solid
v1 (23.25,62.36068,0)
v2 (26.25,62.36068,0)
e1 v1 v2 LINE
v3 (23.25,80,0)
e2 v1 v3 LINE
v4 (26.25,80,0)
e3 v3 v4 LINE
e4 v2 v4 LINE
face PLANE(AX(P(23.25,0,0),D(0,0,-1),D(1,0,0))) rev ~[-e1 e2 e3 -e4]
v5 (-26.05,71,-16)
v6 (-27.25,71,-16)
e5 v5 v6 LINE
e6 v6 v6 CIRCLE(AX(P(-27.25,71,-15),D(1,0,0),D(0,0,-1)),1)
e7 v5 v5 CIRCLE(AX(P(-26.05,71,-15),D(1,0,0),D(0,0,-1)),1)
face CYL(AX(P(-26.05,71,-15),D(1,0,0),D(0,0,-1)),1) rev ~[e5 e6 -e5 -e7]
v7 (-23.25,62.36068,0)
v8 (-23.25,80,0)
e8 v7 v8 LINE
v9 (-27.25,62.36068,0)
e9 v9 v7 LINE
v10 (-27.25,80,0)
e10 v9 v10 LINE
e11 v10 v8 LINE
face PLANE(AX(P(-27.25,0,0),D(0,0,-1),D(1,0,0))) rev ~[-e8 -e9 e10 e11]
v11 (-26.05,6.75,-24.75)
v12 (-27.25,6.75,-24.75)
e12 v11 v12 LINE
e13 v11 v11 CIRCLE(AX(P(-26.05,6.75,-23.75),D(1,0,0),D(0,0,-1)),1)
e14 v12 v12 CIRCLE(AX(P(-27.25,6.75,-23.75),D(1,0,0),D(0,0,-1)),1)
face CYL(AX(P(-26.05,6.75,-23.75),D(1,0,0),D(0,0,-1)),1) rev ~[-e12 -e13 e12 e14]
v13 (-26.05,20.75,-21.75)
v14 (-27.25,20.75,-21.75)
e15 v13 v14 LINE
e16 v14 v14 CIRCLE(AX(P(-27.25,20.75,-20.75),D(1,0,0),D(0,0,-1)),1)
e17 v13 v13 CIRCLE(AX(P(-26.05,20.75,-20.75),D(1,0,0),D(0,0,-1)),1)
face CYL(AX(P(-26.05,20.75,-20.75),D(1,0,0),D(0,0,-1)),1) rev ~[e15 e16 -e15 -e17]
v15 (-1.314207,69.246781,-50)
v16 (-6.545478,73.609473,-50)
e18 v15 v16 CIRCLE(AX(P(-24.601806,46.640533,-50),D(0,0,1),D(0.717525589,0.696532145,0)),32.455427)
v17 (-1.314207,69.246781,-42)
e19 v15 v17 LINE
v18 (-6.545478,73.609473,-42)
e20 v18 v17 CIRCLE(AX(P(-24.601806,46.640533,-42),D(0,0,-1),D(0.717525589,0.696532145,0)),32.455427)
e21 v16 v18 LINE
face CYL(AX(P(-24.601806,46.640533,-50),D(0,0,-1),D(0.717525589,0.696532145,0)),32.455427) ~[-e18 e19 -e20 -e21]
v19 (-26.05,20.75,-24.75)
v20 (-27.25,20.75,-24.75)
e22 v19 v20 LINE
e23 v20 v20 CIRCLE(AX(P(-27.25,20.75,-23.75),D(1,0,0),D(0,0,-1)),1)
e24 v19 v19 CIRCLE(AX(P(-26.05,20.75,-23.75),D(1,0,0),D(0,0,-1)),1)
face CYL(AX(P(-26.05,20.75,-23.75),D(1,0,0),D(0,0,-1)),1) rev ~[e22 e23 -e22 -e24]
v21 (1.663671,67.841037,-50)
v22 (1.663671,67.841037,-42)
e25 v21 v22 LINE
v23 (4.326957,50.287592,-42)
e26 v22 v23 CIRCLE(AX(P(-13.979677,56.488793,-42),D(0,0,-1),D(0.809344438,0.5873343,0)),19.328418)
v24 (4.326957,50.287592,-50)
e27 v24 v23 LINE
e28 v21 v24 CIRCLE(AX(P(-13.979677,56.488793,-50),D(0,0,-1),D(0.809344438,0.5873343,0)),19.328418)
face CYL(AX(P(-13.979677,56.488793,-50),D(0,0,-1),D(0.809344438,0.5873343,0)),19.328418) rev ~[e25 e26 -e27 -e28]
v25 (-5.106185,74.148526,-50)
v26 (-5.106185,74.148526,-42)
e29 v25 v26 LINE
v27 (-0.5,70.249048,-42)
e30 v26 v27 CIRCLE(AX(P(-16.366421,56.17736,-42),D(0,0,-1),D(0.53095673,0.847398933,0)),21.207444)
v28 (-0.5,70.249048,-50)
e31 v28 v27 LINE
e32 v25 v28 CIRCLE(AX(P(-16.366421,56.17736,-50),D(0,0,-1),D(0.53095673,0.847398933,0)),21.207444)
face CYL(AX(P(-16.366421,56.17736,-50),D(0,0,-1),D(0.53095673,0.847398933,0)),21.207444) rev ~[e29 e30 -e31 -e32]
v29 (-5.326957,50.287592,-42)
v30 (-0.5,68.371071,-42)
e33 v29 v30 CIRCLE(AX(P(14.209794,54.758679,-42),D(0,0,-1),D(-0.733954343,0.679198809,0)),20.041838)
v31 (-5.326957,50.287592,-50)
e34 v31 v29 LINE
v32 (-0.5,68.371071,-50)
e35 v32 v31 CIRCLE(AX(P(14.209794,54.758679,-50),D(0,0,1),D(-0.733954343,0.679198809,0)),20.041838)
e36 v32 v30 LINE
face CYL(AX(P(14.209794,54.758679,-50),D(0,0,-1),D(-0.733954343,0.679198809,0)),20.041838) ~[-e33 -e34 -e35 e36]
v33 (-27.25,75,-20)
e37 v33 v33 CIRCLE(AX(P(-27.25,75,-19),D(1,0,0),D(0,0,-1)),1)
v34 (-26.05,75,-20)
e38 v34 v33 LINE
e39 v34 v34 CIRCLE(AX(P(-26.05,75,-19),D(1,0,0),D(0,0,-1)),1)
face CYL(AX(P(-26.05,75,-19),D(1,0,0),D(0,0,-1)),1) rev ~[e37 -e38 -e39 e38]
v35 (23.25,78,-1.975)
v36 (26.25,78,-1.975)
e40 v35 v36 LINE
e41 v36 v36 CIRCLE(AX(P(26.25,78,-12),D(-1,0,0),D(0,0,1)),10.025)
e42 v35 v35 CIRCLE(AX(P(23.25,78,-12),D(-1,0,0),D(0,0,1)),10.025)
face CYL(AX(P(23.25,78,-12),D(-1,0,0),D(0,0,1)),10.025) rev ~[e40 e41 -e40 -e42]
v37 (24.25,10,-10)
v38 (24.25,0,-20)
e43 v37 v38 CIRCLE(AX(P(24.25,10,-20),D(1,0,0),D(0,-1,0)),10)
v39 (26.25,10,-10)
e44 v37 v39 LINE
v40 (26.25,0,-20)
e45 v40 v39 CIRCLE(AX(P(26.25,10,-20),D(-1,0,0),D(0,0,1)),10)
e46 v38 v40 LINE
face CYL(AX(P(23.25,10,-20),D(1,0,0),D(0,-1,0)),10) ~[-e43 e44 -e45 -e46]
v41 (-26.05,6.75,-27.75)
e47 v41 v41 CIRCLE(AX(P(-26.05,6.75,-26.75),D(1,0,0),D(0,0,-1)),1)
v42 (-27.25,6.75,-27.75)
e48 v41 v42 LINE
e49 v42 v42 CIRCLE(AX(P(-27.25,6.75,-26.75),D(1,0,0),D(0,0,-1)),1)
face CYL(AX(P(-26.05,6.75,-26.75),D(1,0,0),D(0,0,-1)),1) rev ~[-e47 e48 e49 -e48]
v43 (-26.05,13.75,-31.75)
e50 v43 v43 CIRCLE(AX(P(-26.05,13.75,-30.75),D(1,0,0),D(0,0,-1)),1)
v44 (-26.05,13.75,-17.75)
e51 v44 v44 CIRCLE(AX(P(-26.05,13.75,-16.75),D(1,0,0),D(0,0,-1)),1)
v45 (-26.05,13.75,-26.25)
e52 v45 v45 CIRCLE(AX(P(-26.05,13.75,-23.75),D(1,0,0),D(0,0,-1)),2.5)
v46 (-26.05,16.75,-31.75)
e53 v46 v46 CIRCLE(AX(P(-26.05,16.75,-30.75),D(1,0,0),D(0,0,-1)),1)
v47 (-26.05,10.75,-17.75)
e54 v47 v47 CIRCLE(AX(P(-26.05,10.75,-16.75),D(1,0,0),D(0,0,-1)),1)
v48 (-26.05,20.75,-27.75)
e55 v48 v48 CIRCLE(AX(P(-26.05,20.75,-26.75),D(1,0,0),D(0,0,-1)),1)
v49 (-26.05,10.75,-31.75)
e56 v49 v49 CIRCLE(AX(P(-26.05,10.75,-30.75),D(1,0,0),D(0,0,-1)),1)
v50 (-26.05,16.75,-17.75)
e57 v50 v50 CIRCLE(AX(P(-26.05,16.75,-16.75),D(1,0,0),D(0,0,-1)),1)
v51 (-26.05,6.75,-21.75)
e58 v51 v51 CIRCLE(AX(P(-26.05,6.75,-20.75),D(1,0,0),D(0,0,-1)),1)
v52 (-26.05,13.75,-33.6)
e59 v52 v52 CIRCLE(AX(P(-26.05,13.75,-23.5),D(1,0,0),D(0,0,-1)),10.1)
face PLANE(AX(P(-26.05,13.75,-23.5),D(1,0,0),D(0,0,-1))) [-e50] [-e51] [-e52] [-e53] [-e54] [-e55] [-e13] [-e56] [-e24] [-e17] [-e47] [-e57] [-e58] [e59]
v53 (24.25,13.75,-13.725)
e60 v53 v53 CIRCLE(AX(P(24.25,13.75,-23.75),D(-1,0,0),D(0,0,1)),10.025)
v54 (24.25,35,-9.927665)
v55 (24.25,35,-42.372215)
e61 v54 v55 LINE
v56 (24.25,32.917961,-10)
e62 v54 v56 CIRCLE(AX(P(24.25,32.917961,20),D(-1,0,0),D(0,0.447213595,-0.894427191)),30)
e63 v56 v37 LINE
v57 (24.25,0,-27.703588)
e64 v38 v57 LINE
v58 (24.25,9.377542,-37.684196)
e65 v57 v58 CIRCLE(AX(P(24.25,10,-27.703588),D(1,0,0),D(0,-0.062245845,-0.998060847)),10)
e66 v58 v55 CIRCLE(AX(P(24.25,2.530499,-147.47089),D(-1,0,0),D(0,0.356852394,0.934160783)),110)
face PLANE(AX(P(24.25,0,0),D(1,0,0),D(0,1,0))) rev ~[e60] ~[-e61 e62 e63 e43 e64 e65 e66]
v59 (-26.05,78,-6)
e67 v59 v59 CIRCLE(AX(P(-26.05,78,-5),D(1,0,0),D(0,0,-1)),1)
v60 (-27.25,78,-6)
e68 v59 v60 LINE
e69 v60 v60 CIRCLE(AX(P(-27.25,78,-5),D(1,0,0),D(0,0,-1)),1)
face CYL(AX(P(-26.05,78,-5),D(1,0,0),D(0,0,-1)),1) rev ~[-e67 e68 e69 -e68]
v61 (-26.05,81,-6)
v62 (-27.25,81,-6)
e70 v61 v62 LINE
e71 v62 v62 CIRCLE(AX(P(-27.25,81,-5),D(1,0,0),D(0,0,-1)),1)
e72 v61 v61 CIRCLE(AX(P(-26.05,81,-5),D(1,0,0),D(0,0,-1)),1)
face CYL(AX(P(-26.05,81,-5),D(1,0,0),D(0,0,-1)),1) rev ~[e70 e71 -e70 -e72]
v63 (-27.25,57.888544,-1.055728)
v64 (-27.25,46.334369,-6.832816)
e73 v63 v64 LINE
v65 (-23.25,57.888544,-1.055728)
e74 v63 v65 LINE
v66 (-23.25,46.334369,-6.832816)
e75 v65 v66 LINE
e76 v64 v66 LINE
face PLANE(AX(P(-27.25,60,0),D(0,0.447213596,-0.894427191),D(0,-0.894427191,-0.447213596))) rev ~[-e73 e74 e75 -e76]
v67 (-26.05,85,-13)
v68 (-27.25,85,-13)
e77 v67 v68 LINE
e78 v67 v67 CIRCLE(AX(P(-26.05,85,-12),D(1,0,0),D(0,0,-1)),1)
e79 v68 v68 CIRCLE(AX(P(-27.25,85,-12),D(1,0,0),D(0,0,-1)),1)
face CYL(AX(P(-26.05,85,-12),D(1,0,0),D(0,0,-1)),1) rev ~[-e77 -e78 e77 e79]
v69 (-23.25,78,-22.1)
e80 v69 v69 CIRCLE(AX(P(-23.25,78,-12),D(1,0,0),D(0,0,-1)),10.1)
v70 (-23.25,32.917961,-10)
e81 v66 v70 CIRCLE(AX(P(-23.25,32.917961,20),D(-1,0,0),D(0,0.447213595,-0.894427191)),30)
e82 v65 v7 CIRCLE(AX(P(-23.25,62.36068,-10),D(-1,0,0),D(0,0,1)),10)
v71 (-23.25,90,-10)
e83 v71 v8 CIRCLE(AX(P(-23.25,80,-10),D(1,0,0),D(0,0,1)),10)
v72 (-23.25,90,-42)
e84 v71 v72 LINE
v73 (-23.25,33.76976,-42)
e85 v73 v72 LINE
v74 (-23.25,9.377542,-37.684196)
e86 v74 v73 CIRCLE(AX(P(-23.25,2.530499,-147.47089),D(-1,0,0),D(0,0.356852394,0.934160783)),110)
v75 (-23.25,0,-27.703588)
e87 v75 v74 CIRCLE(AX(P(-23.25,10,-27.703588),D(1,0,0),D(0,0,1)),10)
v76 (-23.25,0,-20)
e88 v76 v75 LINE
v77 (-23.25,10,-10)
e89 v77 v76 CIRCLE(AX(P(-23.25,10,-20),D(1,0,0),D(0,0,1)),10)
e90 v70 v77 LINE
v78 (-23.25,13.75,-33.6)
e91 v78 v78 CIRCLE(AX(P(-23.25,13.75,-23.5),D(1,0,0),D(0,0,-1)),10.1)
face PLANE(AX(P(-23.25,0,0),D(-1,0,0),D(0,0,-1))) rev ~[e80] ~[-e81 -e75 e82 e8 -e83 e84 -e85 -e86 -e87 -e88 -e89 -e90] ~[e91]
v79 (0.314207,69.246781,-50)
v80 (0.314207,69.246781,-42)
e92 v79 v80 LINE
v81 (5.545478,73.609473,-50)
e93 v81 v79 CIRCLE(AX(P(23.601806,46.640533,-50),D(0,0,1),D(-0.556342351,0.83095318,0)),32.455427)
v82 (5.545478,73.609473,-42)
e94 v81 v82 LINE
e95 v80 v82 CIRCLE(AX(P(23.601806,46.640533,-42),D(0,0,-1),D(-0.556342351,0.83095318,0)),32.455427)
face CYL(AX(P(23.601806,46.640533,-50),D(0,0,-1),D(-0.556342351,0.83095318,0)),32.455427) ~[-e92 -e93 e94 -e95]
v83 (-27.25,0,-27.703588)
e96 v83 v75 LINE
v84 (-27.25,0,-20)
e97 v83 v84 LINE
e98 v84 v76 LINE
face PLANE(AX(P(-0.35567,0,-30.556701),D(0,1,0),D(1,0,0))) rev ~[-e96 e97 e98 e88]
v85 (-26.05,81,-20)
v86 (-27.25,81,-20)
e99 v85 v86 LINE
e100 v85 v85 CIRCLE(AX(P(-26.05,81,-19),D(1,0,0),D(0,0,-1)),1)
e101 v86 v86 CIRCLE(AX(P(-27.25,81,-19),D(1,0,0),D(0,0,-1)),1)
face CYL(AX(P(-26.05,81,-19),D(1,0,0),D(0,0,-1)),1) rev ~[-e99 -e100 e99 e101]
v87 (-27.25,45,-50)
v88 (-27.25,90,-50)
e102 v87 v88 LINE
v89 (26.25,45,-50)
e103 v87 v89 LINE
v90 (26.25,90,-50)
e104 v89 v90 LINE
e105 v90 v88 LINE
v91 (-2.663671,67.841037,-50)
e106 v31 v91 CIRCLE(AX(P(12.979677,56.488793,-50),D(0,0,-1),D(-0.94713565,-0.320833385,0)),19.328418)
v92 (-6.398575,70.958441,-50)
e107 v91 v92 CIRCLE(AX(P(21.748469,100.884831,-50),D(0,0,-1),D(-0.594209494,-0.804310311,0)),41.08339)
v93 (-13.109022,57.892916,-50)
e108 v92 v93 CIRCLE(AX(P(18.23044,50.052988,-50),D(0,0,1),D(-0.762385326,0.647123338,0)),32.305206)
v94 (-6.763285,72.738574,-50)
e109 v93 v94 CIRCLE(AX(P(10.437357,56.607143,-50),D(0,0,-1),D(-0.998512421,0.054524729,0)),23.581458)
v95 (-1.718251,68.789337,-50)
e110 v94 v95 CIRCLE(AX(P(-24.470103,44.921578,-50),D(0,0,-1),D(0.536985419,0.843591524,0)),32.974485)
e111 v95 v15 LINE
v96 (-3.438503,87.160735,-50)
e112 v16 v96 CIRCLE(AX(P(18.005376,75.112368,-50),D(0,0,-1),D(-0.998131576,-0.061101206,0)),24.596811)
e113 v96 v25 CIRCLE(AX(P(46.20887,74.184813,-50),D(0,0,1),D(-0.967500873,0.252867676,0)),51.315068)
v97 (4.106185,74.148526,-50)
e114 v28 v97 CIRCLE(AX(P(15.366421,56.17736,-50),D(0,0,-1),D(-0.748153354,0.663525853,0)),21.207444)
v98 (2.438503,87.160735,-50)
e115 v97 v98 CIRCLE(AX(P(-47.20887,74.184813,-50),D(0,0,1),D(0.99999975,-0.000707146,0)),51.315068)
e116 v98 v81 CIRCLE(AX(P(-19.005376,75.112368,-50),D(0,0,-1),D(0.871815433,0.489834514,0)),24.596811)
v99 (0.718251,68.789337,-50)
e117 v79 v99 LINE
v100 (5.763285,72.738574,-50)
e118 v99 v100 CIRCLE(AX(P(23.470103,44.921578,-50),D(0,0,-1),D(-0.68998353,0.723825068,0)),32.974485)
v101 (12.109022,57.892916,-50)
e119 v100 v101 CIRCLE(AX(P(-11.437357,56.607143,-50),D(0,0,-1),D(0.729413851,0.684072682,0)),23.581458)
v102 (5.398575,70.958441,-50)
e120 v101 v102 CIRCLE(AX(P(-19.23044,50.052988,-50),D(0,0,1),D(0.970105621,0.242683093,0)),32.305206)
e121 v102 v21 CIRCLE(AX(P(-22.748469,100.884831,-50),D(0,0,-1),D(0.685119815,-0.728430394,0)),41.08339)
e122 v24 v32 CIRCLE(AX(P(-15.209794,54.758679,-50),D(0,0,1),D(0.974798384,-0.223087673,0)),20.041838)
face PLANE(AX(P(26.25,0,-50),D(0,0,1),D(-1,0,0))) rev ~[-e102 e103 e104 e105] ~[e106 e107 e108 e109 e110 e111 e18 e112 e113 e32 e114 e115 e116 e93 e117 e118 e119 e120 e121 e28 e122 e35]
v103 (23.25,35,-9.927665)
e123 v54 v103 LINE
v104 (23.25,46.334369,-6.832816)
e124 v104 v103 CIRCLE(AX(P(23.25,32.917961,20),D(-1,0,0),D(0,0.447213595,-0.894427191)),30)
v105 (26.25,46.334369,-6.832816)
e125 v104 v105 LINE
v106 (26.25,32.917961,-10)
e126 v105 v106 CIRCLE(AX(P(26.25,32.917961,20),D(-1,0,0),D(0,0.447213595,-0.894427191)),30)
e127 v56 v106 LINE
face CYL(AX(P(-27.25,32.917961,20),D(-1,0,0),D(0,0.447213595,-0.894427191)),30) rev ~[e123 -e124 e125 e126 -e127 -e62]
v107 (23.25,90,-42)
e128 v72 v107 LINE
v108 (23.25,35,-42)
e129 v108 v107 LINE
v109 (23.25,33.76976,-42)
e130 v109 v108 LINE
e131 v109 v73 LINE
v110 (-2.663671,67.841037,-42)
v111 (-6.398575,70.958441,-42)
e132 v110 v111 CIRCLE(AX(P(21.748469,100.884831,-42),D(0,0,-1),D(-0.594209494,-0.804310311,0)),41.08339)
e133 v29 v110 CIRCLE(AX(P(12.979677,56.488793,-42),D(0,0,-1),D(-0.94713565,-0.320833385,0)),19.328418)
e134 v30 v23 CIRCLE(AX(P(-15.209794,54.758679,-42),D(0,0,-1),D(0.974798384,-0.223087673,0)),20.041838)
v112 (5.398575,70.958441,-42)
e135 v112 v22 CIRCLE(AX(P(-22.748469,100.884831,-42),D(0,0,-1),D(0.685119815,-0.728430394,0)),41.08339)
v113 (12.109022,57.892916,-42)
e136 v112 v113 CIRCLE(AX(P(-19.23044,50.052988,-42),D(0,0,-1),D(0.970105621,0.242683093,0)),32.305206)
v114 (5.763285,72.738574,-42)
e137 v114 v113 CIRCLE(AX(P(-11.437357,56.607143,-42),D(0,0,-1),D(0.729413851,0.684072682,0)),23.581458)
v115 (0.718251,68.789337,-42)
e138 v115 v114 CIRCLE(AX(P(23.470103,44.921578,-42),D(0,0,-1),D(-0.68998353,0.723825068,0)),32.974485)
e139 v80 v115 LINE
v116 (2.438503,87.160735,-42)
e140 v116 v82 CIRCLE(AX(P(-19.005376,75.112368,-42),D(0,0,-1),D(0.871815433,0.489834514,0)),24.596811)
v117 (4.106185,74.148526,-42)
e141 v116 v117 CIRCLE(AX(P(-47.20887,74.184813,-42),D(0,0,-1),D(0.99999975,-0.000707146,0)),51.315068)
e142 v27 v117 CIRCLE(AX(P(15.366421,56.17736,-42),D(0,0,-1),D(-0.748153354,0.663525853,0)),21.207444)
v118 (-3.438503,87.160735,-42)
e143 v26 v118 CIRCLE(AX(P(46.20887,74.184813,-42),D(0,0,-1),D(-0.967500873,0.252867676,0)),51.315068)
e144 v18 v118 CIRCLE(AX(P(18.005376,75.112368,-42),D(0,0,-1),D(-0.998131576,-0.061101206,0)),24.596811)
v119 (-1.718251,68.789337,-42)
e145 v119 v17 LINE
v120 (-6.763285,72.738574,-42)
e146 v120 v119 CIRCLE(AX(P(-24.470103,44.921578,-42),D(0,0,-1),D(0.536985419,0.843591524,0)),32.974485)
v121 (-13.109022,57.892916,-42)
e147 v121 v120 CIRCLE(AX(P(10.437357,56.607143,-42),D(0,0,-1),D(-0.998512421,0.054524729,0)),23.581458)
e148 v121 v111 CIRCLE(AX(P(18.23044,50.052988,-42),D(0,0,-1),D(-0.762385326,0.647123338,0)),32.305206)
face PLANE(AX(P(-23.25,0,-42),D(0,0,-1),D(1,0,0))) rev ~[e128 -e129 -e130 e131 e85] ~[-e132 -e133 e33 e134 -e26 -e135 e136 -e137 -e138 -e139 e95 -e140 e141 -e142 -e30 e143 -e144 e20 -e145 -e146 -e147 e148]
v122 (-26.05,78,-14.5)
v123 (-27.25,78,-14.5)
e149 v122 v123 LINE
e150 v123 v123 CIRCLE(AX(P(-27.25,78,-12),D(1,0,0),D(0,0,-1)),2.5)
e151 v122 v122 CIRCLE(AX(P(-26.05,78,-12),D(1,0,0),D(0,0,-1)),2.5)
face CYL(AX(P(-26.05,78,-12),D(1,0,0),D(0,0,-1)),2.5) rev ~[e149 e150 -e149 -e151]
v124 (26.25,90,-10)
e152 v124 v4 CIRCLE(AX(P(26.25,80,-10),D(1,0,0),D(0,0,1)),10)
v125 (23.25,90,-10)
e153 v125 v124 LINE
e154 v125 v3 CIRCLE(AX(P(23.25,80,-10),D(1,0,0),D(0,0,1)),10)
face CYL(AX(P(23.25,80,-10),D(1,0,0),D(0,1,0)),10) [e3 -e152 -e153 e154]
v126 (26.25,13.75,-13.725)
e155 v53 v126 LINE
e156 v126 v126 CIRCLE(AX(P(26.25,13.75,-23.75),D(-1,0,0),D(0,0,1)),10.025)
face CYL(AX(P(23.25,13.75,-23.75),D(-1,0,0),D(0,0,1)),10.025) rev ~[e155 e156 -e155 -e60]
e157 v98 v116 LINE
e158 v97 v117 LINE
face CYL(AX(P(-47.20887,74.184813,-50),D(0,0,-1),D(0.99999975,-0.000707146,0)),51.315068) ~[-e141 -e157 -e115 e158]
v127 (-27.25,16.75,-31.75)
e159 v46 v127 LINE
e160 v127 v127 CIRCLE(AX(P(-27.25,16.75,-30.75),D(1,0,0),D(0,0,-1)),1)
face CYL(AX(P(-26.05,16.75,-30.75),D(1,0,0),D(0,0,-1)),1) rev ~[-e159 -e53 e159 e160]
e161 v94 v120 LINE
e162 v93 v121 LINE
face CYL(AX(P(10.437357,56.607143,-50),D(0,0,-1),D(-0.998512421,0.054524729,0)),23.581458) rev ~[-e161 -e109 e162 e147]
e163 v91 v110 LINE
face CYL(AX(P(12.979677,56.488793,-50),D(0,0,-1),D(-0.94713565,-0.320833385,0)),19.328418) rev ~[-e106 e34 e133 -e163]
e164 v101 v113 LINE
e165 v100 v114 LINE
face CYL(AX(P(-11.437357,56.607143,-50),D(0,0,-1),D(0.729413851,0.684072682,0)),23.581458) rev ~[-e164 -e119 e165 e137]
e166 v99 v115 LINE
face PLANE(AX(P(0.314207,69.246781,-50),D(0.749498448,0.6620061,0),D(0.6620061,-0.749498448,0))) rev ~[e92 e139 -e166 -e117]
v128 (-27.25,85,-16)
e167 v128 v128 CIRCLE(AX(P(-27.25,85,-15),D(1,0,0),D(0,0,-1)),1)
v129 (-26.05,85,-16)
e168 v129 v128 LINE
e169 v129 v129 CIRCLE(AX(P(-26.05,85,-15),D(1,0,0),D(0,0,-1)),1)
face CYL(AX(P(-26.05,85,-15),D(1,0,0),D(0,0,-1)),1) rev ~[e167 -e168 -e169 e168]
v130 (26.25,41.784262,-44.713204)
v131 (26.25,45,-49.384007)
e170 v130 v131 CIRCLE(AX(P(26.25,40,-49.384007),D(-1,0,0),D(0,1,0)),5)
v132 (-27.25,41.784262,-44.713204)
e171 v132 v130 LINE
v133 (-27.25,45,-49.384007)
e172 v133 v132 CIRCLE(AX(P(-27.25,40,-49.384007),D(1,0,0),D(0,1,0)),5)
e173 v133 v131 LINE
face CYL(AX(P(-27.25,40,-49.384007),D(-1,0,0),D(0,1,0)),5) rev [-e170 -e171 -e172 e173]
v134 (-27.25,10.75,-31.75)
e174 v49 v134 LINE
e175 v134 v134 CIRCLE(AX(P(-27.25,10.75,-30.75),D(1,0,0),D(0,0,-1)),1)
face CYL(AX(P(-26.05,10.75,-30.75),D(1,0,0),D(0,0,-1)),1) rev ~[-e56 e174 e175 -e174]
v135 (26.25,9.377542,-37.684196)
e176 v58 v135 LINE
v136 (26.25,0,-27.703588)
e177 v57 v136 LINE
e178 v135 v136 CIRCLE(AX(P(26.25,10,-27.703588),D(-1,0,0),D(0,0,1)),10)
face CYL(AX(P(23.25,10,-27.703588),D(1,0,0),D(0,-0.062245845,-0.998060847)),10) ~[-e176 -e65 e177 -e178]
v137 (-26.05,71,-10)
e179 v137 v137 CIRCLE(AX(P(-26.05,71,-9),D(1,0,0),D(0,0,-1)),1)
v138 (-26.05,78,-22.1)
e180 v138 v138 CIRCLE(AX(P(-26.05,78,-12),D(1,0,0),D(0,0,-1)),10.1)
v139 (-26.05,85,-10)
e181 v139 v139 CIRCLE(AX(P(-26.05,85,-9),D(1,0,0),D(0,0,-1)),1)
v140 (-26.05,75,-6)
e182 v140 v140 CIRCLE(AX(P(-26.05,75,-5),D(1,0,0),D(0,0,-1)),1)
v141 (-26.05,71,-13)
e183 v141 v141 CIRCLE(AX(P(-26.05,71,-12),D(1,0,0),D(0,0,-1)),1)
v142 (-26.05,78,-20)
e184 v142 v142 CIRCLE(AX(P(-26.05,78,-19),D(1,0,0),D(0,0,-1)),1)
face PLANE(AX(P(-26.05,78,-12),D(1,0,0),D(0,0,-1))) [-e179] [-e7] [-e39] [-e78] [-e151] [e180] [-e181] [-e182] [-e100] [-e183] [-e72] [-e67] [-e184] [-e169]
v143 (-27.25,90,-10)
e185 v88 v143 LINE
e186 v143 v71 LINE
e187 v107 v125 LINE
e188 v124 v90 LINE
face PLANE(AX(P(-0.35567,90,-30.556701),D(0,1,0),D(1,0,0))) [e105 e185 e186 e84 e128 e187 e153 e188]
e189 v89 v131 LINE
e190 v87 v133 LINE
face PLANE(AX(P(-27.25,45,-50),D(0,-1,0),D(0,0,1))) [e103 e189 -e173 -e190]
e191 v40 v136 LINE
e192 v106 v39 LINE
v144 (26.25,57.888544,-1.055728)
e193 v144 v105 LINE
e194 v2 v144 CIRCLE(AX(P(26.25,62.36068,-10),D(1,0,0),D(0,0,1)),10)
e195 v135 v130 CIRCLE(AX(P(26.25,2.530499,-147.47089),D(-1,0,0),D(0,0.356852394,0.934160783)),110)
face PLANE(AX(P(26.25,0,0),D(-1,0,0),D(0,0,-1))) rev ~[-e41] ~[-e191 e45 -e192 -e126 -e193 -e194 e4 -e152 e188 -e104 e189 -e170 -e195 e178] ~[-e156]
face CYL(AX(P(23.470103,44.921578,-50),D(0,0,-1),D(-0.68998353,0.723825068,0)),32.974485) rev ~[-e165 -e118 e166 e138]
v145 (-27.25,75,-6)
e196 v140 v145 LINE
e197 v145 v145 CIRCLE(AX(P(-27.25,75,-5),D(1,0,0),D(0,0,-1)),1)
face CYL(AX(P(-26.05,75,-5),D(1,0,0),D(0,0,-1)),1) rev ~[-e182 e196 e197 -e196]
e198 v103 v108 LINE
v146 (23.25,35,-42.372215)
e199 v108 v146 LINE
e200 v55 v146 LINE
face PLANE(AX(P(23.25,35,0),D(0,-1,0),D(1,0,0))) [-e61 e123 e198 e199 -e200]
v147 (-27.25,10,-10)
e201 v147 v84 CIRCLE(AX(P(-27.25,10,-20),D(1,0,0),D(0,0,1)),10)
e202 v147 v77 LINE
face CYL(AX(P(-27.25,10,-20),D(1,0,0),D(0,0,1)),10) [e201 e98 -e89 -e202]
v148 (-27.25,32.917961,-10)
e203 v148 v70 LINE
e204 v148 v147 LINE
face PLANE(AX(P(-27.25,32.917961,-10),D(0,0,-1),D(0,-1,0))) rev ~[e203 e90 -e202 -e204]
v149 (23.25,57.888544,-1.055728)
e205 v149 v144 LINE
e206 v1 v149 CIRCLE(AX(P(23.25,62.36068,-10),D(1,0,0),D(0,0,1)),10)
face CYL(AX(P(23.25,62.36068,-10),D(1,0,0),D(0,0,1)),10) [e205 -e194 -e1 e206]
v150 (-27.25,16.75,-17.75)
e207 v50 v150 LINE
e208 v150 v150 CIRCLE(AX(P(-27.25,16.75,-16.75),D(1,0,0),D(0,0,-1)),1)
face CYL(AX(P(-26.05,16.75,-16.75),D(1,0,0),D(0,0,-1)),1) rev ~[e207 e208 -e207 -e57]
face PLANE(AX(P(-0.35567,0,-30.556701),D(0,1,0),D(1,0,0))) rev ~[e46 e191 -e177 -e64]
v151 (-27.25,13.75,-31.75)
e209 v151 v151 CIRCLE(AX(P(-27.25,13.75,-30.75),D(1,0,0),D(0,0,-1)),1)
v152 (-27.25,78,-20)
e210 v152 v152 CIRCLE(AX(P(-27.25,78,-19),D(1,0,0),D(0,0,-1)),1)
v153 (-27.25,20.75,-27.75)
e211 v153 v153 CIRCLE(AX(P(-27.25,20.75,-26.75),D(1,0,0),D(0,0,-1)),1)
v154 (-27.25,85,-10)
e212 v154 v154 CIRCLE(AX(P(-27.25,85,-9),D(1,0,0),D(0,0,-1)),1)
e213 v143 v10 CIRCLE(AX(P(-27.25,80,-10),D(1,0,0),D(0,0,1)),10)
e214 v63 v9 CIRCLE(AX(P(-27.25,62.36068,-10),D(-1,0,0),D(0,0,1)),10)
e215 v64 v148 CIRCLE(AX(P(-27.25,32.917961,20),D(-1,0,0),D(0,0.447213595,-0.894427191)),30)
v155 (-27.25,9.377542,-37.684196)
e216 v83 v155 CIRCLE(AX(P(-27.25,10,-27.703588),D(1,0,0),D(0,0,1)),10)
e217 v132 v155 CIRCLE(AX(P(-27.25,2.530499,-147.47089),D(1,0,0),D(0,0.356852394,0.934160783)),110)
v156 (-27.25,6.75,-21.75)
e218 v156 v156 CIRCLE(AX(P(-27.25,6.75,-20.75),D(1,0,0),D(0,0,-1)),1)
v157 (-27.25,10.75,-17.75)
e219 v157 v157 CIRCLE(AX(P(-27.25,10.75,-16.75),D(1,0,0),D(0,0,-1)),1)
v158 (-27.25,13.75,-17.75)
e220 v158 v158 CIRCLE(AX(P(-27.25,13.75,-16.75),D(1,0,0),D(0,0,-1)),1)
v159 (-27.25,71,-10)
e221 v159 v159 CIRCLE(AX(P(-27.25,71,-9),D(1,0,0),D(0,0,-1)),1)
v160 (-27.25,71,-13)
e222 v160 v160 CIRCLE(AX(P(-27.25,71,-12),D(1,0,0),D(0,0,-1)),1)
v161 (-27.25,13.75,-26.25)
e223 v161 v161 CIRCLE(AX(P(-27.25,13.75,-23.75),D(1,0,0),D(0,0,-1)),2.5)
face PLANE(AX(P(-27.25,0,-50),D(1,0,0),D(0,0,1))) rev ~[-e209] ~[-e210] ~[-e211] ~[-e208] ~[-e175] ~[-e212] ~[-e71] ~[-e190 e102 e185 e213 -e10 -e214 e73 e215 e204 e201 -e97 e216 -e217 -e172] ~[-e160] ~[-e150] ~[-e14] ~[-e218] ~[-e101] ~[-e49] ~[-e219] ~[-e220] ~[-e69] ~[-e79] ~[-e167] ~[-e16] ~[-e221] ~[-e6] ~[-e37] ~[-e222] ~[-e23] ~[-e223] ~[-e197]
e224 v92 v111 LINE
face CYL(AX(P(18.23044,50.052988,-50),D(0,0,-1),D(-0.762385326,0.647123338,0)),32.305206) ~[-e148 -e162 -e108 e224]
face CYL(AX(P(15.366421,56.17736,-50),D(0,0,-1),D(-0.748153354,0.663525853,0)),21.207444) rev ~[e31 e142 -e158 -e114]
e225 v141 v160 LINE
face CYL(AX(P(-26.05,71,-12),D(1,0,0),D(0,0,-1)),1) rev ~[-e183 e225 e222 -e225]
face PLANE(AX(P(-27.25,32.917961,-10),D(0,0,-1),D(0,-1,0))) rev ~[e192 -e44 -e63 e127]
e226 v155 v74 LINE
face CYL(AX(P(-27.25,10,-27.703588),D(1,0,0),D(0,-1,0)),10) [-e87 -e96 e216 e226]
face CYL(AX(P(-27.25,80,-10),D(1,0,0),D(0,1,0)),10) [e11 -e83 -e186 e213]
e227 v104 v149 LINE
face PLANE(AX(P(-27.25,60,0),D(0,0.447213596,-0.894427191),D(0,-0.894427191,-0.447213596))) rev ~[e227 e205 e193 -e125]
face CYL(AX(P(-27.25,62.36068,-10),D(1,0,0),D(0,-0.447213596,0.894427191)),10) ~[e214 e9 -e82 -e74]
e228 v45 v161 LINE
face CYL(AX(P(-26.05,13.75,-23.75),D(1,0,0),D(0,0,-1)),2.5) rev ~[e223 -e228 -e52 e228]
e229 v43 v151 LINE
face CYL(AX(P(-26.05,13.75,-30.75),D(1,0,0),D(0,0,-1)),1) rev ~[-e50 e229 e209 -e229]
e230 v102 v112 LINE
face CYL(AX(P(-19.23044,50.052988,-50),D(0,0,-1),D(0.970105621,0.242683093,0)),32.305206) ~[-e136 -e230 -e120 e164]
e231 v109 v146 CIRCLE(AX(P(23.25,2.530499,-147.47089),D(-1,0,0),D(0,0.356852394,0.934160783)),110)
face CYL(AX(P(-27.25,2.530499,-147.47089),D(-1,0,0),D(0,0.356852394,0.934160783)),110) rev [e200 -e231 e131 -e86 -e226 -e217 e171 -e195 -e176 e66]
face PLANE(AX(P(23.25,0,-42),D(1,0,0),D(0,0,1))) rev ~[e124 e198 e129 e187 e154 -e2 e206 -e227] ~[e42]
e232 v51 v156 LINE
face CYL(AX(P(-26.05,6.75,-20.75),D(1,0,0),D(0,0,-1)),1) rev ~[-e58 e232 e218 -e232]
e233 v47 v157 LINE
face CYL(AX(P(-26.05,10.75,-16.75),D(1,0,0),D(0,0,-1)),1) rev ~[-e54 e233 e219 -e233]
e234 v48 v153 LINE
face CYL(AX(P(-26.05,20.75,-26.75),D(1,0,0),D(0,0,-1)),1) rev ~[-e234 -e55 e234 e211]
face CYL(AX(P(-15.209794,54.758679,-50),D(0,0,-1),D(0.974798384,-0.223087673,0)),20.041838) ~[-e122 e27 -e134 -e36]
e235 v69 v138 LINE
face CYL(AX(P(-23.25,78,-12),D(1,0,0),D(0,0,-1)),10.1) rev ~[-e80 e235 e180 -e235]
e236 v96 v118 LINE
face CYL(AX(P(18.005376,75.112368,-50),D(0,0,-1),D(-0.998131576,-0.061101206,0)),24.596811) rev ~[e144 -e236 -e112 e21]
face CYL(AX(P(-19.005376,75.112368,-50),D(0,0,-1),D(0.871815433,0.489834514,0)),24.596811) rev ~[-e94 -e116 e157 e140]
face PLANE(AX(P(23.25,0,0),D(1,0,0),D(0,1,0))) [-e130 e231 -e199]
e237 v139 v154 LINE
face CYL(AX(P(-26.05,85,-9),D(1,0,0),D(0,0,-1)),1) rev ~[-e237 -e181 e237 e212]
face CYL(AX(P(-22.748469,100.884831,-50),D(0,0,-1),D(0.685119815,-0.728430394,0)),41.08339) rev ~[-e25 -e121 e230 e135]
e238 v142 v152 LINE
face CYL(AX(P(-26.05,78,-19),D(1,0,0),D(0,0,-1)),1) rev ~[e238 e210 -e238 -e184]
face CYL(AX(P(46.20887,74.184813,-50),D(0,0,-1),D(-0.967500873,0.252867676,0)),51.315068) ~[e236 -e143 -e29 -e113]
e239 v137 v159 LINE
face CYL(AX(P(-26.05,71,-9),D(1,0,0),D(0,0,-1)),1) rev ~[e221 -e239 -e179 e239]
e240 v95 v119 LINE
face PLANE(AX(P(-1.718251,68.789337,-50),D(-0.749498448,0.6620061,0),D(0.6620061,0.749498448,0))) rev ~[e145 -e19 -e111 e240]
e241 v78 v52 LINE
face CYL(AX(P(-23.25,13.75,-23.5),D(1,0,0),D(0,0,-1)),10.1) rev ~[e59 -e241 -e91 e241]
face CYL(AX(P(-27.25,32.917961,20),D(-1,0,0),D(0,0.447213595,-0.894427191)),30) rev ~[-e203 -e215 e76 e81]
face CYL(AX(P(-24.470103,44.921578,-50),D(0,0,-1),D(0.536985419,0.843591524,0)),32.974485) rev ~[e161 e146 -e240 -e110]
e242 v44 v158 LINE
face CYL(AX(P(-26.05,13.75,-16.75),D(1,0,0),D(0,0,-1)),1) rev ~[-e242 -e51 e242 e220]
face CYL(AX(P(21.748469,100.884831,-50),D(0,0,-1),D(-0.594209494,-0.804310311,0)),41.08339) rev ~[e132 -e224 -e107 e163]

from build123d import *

# Parameters (mm, degrees)
BOSS_EXTRUDE1_DEPTH = 90
SKETCH2_R           = 10.1
CUT_EXTRUDE1_DEPTH  = 2.8
SKETCH3_R           = 2.5
SKETCH3_R_2         = 1
CUT_EXTRUDE2_DEPTH  = 2.8
SKETCH4_R           = 10.1
CUT_EXTRUDE3_DEPTH  = 2.8
SKETCH5_R           = 2.5
SKETCH5_R_2         = 1
CUT_EXTRUDE4_DEPTH  = 2.8
SKETCH6_R           = 10.025
CUT_EXTRUDE5_DEPTH  = 12.8
CUT_EXTRUDE7_DEPTH  = 62.8
FILLET1_R           = 10
SKETCH9_W           = 1
SKETCH9_H           = 35
CUT_EXTRUDE8_DEPTH  = 50
CUT_EXTRUDE10_DEPTH = 10


with BuildPart() as part:
    # Sketch1 → Boss-Extrude1 (new body)
    with BuildSketch(Plane(origin=(0, 0, 0), x_dir=(1, 0, 0), z_dir=(0, 1, 0))):
        Polygon((-23.25, 0), (-23.25, 42), (23.25, 42), (23.25, 0), (26.25, 0), (26.25, 50), (-27.25, 50), (-27.25, 0), align=None)
    extrude(amount=BOSS_EXTRUDE1_DEPTH)

    # Sketch2 → Cut-Extrude1 (cut)
    with BuildSketch(Plane(origin=(-23.25, 0, 0), x_dir=(0, 0, -1), z_dir=(1, 0, 0))):
        with Locations((12, 78)):
            Circle(SKETCH2_R)
    extrude(amount=-CUT_EXTRUDE1_DEPTH, mode=Mode.SUBTRACT)

    # Sketch3 → Cut-Extrude2 (cut)
    with BuildSketch(Plane(origin=(-26.05, 0, 0), x_dir=(0, 0, -1), z_dir=(1, 0, 0))):
        with Locations((12, 78)):
            Circle(SKETCH3_R)
        with Locations((12, 85)):
            Circle(SKETCH3_R_2)
        with Locations((9, 85)):
            Circle(SKETCH3_R_2)
        with Locations((15, 85)):
            Circle(SKETCH3_R_2)
        with Locations((19, 78)):
            Circle(SKETCH3_R_2)
        with Locations((19, 81)):
            Circle(SKETCH3_R_2)
        with Locations((19, 75)):
            Circle(SKETCH3_R_2)
        with Locations((12, 71)):
            Circle(SKETCH3_R_2)
        with Locations((15, 71)):
            Circle(SKETCH3_R_2)
        with Locations((9, 71)):
            Circle(SKETCH3_R_2)
        with Locations((5, 78)):
            Circle(SKETCH3_R_2)
        with Locations((5, 75)):
            Circle(SKETCH3_R_2)
        with Locations((5, 81)):
            Circle(SKETCH3_R_2)
    extrude(amount=-CUT_EXTRUDE2_DEPTH, mode=Mode.SUBTRACT)

    # Sketch4 → Cut-Extrude3 (cut)
    with BuildSketch(Plane(origin=(-23.25, 0, 0), x_dir=(0, 0, -1), z_dir=(1, 0, 0))):
        with Locations((23.5, 13.75)):
            Circle(SKETCH4_R)
    extrude(amount=-CUT_EXTRUDE3_DEPTH, mode=Mode.SUBTRACT)

    # Sketch5 → Cut-Extrude4 (cut)
    with BuildSketch(Plane(origin=(-26.05, 0, 0), x_dir=(0, 0, -1), z_dir=(1, 0, 0))):
        with Locations((23.75, 13.75)):
            Circle(SKETCH5_R)
        with Locations((23.75, 20.75)):
            Circle(SKETCH5_R_2)
        with Locations((20.75, 20.75)):
            Circle(SKETCH5_R_2)
        with Locations((26.75, 20.75)):
            Circle(SKETCH5_R_2)
        with Locations((30.75, 16.75)):
            Circle(SKETCH5_R_2)
        with Locations((30.75, 13.75)):
            Circle(SKETCH5_R_2)
        with Locations((30.75, 10.75)):
            Circle(SKETCH5_R_2)
        with Locations((26.75, 6.75)):
            Circle(SKETCH5_R_2)
        with Locations((23.75, 6.75)):
            Circle(SKETCH5_R_2)
        with Locations((20.75, 6.75)):
            Circle(SKETCH5_R_2)
        with Locations((16.75, 10.75)):
            Circle(SKETCH5_R_2)
        with Locations((16.75, 13.75)):
            Circle(SKETCH5_R_2)
        with Locations((16.75, 16.75)):
            Circle(SKETCH5_R_2)
    extrude(amount=-CUT_EXTRUDE4_DEPTH, mode=Mode.SUBTRACT)

    # Sketch6 → Cut-Extrude5 (cut)
    with BuildSketch(Plane.ZY.offset(-23.25)):
        with Locations((-12, 78)):
            Circle(SKETCH6_R)
        with Locations((-23.75, 13.75)):
            Circle(SKETCH6_R)
    extrude(amount=-CUT_EXTRUDE5_DEPTH, mode=Mode.SUBTRACT)

    # Sketch8 → Cut-Extrude7 (cut)
    with BuildSketch(Plane.ZY.offset(27.25)):
        with BuildLine():
            Line((0, 60), (-6.83281573, 46.33436854))
            ThreePointArc((-6.83281573, 46.33436854), (-9.197469684, 39.810548291), (-10, 32.917960675))
            Line((-10, 32.917960675), (-10, 0))
            Line((-10, 0), (0, 0))
            Line((0, 0), (0, 60))
        make_face()
        with BuildLine():
            Line((-50, 45), (-49.384007447, 45))
            ThreePointArc((-49.384007447, 45), (-46.548633561, 44.118331571), (-44.713203531, 41.784261971))
            ThreePointArc((-44.713203531, 41.784261971), (-39.074197476, 21.242984276), (-37.5, 0))
            Line((-37.5, 0), (-50, 0))
            Line((-50, 0), (-50, 45))
        make_face()
    extrude(amount=-CUT_EXTRUDE7_DEPTH, mode=Mode.SUBTRACT)

    # Fillet1
    fillet1_edges = [part.edges().sort_by_distance(p)[0] for p in [
        (24.75, 0, -37.5),
        (-25.25, 0, -37.5),
        (-25.25, 0, -10),
        (24.75, 0, -10),
        (-25.25, 60, 0),
        (24.75, 60, 0),
        (24.75, 90, 0),
        (-25.25, 90, 0),
    ]]
    fillet(fillet1_edges, radius=FILLET1_R)

    # Sketch9 → Cut-Extrude8 (cut)
    with BuildSketch(Plane.XY):
        with Locations((23.75, 17.5)):
            Rectangle(SKETCH9_W, SKETCH9_H)
    extrude(amount=-CUT_EXTRUDE8_DEPTH, mode=Mode.SUBTRACT)

    # Sketch10 → Cut-Extrude10 (cut)
    with BuildSketch(Plane(origin=(0, 0, -50), x_dir=(-1, 0, 0), z_dir=(0, 0, -1))):
        with BuildLine():
            ThreePointArc((-5.545477523, 73.609473243), (-2.815070752, 71.565748615), (-0.314206668, 69.246781102))
            Line((-0.314206668, 69.246781102), (-0.718251382, 68.789336849))
            ThreePointArc((-0.718251382, 68.789336849), (-3.14462395, 70.886777127), (-5.763285342, 72.738574113))
            ThreePointArc((-5.763285342, 72.738574113), (-10.24623891, 65.875737216), (-12.109021951, 57.892915514))
            ThreePointArc((-12.109021951, 57.892915514), (-9.506202014, 64.812112187), (-5.398575101, 70.958440796))
            ThreePointArc((-5.398575101, 70.958440796), (-3.57730753, 69.344405913), (-1.663670975, 67.841036595))
            ThreePointArc((-1.663670975, 67.841036595), (-5.130037281, 59.38820373), (-4.32695717, 50.287591599))
            ThreePointArc((-4.32695717, 50.287591599), (-4.15407751, 59.927406093), (0.5, 68.371070782))
            ThreePointArc((0.5, 68.371070782), (5.15407751, 59.927406093), (5.32695717, 50.287591599))
            ThreePointArc((5.32695717, 50.287591599), (6.130037281, 59.38820373), (2.663670975, 67.841036595))
            ThreePointArc((2.663670975, 67.841036595), (4.57730753, 69.344405913), (6.398575101, 70.958440796))
            ThreePointArc((6.398575101, 70.958440796), (10.506202014, 64.812112187), (13.109021951, 57.892915514))
            ThreePointArc((13.109021951, 57.892915514), (11.24623891, 65.875737216), (6.763285342, 72.738574113))
            ThreePointArc((6.763285342, 72.738574113), (4.14462395, 70.886777127), (1.718251382, 68.789336849))
            Line((1.718251382, 68.789336849), (1.314206668, 69.246781102))
            ThreePointArc((1.314206668, 69.246781102), (3.815070752, 71.565748615), (6.545477523, 73.609473243))
            ThreePointArc((6.545477523, 73.609473243), (5.969361402, 80.609191571), (3.438503197, 87.160735145))
            ThreePointArc((3.438503197, 87.160735145), (4.689876448, 80.708142635), (5.106185309, 74.148525875))
            ThreePointArc((5.106185309, 74.148525875), (2.663670975, 72.36347608), (0.5, 70.249047799))
            ThreePointArc((0.5, 70.249047799), (-1.663670975, 72.36347608), (-4.106185309, 74.148525875))
            ThreePointArc((-4.106185309, 74.148525875), (-3.689876448, 80.708142635), (-2.438503197, 87.160735145))
            ThreePointArc((-2.438503197, 87.160735145), (-4.969361402, 80.609191571), (-5.545477523, 73.609473243))
        make_face()
    extrude(amount=-CUT_EXTRUDE10_DEPTH, mode=Mode.SUBTRACT)


solid = part.part
